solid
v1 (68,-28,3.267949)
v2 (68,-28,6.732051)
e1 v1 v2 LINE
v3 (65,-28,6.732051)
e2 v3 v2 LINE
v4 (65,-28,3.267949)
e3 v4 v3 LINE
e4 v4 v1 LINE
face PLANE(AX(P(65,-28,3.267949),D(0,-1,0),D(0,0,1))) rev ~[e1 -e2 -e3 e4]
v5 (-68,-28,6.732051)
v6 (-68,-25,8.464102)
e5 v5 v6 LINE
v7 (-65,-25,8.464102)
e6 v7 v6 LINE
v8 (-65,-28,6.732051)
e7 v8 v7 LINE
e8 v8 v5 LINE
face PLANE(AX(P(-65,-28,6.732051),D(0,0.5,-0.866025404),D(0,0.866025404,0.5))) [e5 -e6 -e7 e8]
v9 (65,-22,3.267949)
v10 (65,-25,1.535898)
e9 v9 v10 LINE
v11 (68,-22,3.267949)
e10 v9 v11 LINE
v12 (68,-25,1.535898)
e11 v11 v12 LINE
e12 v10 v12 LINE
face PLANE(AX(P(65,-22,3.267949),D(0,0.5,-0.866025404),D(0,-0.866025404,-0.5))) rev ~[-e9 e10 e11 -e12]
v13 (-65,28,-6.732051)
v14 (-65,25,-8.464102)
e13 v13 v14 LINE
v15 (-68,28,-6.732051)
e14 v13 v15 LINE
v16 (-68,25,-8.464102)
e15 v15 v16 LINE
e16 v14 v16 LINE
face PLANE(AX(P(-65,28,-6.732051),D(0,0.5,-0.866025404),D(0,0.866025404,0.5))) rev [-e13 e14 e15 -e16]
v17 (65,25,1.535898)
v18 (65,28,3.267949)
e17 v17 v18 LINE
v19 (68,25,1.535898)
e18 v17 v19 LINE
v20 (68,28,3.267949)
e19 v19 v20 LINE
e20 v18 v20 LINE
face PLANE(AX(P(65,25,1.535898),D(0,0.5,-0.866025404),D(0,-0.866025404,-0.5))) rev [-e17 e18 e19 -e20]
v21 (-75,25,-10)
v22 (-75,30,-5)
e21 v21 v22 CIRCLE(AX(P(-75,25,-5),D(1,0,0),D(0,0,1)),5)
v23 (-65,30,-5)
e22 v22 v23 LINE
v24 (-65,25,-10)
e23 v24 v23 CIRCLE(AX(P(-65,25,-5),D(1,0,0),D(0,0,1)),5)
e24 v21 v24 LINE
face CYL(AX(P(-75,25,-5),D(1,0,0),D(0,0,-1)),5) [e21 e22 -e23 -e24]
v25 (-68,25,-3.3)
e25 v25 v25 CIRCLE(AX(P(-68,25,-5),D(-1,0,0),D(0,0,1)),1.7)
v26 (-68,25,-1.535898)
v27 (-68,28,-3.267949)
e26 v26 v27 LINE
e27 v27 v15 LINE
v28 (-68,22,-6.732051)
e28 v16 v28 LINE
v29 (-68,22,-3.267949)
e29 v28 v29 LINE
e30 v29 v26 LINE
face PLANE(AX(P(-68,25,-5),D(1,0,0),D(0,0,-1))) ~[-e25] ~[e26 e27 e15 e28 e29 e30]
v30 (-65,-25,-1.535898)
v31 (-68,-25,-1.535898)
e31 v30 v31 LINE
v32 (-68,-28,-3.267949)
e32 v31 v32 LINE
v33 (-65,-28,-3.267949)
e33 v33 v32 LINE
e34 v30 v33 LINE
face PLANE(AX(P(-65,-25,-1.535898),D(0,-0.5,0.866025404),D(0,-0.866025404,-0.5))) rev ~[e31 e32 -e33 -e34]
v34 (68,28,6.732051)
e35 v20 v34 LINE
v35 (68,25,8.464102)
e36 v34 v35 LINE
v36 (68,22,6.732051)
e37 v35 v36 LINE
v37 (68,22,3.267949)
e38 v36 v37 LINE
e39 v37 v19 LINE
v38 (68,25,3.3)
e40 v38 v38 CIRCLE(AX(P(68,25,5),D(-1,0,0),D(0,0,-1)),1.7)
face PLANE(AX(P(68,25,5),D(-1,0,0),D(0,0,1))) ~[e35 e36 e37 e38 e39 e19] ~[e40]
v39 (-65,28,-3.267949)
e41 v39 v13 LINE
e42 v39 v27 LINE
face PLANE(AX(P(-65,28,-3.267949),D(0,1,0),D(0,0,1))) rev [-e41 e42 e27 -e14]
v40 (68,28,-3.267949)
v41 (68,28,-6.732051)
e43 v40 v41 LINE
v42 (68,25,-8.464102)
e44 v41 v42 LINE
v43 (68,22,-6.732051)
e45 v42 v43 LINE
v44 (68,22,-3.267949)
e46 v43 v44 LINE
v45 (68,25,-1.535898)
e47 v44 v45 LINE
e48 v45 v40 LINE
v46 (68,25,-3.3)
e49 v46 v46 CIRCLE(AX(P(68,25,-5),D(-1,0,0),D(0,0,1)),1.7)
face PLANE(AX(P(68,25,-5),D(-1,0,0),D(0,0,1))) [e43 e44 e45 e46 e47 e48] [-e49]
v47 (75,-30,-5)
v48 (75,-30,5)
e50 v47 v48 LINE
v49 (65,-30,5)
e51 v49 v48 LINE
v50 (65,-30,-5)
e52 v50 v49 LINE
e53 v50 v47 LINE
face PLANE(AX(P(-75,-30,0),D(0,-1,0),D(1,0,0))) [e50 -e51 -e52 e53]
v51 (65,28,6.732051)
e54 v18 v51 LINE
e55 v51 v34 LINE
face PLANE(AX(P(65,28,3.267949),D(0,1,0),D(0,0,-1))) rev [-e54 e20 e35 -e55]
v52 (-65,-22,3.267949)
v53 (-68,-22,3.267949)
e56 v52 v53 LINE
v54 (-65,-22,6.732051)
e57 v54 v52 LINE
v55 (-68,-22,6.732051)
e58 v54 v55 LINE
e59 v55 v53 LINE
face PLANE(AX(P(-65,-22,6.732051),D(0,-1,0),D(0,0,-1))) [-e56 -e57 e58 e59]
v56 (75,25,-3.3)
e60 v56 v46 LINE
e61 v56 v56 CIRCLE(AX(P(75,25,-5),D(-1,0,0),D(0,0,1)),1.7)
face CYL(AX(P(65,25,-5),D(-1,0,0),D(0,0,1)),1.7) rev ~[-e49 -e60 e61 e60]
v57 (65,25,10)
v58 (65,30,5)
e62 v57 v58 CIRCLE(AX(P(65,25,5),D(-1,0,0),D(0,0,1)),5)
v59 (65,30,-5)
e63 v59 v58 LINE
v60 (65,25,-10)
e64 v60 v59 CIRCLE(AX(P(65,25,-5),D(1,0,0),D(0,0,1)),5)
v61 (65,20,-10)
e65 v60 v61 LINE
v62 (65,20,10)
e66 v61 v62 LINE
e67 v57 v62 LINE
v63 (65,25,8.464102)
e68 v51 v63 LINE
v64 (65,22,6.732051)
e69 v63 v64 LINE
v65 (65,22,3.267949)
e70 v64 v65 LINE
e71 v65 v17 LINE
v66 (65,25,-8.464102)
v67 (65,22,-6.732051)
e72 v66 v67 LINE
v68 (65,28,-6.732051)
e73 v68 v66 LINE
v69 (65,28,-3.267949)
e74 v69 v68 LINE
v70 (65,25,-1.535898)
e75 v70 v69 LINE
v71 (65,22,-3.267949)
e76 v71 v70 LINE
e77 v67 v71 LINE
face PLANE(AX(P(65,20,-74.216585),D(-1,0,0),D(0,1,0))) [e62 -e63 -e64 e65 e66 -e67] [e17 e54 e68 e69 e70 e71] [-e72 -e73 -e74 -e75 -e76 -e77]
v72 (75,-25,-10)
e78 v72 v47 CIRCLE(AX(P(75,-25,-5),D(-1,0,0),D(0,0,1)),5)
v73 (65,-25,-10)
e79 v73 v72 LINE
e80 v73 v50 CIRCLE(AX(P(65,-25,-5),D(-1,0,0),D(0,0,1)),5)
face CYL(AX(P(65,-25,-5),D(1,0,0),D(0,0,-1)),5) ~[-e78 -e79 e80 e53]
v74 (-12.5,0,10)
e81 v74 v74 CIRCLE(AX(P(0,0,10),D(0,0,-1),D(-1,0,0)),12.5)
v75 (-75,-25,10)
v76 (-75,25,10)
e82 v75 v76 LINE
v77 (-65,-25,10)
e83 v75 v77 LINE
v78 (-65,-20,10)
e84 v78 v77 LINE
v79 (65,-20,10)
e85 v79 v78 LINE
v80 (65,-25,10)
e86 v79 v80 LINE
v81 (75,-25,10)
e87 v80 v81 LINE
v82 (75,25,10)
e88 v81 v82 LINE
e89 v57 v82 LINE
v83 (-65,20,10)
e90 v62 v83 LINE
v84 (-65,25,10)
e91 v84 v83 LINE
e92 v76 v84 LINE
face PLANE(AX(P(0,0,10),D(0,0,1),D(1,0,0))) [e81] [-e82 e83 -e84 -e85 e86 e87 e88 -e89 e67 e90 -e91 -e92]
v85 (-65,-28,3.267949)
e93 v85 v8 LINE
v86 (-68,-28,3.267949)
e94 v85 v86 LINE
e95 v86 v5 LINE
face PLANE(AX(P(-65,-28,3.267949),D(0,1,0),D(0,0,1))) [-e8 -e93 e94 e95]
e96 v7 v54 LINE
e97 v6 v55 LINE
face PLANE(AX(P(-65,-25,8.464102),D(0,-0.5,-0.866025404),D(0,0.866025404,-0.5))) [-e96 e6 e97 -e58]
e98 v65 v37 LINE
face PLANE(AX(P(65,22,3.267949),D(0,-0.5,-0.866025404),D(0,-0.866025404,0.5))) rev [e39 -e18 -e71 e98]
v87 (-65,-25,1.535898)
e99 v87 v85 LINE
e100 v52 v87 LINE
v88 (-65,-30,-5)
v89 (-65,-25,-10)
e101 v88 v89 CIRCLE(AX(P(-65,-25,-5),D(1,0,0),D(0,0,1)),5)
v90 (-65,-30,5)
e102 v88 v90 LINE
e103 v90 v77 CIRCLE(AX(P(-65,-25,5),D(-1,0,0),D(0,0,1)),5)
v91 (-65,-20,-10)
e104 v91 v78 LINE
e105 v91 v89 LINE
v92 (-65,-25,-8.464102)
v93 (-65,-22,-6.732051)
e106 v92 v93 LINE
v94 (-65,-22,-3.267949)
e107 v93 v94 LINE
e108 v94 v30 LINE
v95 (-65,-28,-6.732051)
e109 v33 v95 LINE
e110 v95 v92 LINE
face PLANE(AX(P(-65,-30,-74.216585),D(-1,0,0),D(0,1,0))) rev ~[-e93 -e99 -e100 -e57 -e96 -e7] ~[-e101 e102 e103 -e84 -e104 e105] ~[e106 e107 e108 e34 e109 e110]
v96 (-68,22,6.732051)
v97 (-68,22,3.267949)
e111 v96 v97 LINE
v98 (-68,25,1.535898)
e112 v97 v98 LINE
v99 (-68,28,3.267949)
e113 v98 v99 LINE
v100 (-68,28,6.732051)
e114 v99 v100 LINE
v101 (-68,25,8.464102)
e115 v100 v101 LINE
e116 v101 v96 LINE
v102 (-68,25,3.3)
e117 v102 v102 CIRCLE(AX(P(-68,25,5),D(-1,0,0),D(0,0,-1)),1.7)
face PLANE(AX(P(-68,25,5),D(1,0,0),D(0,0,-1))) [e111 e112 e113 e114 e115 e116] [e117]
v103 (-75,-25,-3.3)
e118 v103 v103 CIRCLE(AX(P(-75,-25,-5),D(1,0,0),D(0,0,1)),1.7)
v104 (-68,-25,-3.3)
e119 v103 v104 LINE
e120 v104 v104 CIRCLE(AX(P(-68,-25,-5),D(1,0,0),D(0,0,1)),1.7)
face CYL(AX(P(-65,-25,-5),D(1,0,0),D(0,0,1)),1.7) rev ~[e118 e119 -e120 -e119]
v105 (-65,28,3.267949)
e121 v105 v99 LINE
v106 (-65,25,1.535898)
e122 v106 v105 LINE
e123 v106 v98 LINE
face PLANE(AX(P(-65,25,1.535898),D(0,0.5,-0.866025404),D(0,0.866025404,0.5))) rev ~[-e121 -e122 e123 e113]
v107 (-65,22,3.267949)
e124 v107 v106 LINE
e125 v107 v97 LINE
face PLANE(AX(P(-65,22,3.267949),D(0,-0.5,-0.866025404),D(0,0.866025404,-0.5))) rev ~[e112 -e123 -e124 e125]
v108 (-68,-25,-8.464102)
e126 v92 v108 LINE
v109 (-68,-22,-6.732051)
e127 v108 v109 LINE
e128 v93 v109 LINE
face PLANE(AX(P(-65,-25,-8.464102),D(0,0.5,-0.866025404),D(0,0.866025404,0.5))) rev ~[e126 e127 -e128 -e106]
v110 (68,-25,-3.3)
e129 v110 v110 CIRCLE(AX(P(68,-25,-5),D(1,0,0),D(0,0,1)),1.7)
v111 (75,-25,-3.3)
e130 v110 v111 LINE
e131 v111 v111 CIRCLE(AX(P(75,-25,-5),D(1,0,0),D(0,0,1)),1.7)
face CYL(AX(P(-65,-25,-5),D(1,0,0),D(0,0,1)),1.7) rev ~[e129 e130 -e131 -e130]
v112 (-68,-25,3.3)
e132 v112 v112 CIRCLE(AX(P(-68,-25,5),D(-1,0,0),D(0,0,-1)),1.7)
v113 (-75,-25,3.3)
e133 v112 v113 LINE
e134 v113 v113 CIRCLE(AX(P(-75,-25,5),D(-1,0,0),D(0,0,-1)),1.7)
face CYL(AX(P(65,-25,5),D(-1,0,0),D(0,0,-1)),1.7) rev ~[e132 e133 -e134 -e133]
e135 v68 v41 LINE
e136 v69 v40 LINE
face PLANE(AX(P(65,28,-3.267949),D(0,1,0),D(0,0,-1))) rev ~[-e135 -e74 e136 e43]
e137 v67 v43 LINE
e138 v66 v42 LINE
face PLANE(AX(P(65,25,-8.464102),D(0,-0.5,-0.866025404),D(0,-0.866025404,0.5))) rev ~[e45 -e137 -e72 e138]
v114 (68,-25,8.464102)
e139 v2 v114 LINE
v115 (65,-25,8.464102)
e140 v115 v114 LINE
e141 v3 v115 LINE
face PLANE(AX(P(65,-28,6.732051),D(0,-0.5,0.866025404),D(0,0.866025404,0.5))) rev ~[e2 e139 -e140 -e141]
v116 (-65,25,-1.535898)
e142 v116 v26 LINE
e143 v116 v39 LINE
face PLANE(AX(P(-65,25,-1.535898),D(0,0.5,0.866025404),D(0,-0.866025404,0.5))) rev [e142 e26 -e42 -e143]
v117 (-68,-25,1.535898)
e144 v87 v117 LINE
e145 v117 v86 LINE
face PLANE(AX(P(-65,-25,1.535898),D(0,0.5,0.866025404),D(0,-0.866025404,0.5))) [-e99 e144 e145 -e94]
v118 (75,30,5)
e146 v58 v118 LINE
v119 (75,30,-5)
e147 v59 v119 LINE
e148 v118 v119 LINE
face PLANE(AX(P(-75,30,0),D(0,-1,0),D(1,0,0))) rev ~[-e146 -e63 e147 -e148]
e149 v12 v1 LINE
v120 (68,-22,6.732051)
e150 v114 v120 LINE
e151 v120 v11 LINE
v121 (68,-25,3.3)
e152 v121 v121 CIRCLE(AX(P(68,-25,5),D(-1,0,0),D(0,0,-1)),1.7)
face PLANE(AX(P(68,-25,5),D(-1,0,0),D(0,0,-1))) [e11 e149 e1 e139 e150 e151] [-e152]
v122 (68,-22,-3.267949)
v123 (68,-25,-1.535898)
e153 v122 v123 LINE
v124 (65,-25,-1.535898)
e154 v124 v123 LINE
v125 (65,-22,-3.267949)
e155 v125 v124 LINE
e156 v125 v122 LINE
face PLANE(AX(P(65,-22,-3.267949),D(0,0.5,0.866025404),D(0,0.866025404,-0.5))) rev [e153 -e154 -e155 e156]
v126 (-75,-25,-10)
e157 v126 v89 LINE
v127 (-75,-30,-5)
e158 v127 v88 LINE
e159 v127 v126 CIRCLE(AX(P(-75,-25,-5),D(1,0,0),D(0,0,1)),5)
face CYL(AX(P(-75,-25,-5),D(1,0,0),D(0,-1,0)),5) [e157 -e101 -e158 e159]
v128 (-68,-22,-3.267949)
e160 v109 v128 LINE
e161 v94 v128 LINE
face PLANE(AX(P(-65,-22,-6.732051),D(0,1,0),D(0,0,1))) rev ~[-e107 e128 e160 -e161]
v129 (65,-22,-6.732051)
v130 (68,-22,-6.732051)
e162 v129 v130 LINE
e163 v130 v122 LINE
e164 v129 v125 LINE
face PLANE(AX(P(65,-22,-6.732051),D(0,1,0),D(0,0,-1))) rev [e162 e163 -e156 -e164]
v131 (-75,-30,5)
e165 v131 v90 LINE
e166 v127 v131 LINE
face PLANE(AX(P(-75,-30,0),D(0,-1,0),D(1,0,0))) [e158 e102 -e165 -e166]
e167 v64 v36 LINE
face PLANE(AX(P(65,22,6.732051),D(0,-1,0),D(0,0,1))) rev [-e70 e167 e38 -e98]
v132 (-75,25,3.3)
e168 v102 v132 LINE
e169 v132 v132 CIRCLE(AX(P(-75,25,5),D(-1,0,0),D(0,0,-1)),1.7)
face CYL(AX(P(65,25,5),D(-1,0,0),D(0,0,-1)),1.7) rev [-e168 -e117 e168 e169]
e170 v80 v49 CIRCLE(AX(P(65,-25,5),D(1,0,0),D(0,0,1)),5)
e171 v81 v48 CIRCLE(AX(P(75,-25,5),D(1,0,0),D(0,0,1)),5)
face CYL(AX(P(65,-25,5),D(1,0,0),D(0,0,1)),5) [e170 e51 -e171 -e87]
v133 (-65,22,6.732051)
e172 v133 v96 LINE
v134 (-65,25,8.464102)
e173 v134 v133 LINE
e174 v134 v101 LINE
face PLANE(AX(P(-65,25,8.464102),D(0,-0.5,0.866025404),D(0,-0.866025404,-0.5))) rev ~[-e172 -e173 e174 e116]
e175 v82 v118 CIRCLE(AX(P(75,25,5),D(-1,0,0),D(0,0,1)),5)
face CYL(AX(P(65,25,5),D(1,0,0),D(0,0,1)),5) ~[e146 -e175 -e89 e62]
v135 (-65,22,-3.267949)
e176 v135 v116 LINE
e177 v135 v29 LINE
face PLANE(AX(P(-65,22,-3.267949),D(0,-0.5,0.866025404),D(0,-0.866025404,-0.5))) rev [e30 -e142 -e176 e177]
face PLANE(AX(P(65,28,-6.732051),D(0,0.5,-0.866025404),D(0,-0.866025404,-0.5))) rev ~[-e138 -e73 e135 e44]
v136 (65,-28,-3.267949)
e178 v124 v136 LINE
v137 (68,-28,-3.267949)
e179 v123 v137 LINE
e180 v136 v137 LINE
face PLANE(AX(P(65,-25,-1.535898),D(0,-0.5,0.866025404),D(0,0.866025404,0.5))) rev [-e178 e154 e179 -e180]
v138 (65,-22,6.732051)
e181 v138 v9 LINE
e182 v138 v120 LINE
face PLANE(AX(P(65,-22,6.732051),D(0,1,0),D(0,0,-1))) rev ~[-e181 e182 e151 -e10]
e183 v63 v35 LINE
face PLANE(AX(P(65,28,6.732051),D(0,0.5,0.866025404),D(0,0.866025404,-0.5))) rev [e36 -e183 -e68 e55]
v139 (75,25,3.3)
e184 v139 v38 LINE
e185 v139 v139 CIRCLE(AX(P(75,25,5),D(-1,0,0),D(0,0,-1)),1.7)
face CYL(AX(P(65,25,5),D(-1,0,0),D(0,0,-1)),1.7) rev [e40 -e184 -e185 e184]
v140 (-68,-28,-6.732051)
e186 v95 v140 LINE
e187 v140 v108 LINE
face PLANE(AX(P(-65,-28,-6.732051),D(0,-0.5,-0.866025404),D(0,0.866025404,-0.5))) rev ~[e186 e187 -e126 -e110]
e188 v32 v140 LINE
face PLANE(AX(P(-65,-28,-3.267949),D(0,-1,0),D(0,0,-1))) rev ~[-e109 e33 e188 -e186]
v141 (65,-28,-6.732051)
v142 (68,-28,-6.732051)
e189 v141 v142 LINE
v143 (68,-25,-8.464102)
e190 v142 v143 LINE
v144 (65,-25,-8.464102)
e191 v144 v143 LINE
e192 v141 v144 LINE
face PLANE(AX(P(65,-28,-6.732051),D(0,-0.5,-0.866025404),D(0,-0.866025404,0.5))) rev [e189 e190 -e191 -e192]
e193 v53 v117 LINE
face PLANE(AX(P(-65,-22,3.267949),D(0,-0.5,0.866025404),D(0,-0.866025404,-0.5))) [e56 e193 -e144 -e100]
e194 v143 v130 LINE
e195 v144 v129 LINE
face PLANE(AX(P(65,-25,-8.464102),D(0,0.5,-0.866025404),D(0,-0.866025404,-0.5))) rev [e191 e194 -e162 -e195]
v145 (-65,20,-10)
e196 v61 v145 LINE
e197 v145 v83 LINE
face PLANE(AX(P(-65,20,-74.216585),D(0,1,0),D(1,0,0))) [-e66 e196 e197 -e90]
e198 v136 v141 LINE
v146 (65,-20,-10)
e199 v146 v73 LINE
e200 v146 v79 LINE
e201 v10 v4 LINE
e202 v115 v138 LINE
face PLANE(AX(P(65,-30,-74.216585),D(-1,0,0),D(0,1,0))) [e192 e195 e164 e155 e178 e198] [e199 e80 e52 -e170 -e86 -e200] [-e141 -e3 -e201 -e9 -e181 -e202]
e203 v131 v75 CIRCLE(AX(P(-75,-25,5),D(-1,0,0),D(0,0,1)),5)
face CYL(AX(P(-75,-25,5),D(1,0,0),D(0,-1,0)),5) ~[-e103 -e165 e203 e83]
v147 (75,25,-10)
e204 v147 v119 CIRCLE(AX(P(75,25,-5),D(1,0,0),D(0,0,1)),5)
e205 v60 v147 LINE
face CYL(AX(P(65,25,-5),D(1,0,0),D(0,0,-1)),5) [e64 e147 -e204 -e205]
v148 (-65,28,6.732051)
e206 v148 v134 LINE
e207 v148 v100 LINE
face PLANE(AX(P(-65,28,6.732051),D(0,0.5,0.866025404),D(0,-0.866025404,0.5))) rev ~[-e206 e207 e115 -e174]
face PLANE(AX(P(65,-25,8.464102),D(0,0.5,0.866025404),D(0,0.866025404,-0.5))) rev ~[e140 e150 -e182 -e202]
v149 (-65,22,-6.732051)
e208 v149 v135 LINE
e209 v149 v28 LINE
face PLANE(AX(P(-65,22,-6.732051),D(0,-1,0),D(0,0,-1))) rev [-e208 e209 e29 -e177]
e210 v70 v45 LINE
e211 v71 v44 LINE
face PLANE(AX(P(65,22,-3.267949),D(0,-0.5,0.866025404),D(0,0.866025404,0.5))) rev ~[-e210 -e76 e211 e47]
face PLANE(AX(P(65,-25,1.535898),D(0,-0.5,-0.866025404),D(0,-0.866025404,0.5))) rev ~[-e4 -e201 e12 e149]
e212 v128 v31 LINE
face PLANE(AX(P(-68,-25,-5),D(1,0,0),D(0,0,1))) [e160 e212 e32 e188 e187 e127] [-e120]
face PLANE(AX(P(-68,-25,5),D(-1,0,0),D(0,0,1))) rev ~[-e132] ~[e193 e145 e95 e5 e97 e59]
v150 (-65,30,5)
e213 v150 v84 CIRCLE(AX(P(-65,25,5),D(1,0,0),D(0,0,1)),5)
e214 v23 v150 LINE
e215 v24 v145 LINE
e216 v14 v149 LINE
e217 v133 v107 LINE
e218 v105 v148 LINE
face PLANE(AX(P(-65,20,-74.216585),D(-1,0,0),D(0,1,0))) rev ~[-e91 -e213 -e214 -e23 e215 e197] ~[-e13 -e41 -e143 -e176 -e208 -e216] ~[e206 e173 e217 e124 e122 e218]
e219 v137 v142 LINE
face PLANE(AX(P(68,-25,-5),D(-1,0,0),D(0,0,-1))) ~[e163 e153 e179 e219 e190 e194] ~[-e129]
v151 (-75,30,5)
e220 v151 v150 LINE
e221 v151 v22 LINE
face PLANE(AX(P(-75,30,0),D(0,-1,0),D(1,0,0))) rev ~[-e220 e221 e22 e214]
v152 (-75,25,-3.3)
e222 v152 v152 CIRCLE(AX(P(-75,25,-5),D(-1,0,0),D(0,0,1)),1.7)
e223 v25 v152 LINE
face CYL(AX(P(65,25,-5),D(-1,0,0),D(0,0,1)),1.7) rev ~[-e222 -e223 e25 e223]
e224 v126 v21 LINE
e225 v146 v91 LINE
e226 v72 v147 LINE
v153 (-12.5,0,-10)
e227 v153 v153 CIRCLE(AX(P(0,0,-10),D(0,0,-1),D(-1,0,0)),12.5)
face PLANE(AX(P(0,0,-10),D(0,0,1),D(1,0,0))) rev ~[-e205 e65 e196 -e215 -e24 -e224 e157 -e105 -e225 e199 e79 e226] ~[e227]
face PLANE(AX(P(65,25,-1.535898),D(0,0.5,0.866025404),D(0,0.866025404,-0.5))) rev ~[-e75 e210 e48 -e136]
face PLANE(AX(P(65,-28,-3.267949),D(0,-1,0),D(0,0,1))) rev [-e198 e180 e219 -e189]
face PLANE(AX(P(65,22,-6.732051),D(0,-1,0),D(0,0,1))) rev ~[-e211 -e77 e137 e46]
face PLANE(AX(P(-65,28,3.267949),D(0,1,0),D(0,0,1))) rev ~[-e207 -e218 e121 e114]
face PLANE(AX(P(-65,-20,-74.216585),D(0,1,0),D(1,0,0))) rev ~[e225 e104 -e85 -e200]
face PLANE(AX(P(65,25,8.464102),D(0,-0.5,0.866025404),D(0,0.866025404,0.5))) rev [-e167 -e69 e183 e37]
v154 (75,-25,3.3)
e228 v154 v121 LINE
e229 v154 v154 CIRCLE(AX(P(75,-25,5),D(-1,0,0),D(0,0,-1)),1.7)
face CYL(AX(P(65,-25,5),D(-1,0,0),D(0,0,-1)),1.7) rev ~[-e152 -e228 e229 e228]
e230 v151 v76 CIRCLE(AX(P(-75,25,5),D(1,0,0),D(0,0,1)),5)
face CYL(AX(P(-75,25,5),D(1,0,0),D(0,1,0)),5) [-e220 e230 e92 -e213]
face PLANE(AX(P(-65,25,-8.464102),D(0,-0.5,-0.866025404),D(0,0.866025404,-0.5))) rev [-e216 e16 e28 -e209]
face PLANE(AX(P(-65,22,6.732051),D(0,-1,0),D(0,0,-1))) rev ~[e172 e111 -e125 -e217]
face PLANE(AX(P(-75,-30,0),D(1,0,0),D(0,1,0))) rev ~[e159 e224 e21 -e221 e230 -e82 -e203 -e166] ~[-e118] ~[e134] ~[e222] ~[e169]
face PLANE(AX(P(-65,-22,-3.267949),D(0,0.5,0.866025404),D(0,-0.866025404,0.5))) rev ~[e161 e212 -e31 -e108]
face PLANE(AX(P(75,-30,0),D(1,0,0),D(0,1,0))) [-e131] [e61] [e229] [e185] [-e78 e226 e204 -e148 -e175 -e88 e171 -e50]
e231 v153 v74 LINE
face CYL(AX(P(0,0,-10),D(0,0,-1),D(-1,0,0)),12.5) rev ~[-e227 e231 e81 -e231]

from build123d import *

# Parameters (mm, degrees)
SKETCH1_W                                  = 150
SKETCH1_H                                  = 60
BOSS_EXTRUDE1_DEPTH                        = 10
CUT_EXTRUDE1_DEPTH                         = 84.216584885
CUT_EXTRUDE1_DEPTH_BACK                    = 84.216584885
SKETCH2_W                                  = 130
SKETCH2_H                                  = 10
FILLET1_R                                  = 5
SKETCH4_R                                  = 1.7
CUT_EXTRUDE3_DEPTH                         = 144.527000944
CUT_EXTRUDE4_DEPTH                         = 3
MIRROR1_AT_THE_SECOND_PLANE_COPY_1_SKETC_R = 1.7
MIRROR1_AT_THE_SECOND_PLANE_COPY_1_DEPTH   = 144.527000944
MIRROR1_AT_THE_SECOND_PLANE_COPY_2_DEPTH   = 3
MIRROR2_COPY_1_SKETCH_R                    = 1.7
MIRROR2_COPY_1_DEPTH                       = 144.527000944
MIRROR2_COPY_2_DEPTH                       = 3
MIRROR2_COPY_3_SKETCH_R                    = 1.7
MIRROR2_COPY_3_DEPTH                       = 144.527000944
MIRROR2_COPY_4_DEPTH                       = 3
MIRROR2_COPY_5_SKETCH_R                    = 1.7
MIRROR2_COPY_5_DEPTH                       = 144.527000944
MIRROR2_COPY_6_DEPTH                       = 3
MIRROR2_COPY_7_SKETCH_R                    = 1.7
MIRROR2_COPY_7_DEPTH                       = 144.527000944
SKETCH6_R                                  = 12.5
CUT_EXTRUDE5_DEPTH                         = 84.216584885


with BuildPart() as part:
    # Sketch1 → Boss-Extrude1 (new, symmetric)
    with BuildSketch(Plane.XY):
        Rectangle(SKETCH1_W, SKETCH1_H)
    extrude(amount=BOSS_EXTRUDE1_DEPTH, both=True)

    # Sketch2 → Cut-Extrude1 (cut, two sides: drawn at the far end of the back side and taken through both)
    with BuildSketch(Plane.XY.offset(10).offset(-CUT_EXTRUDE1_DEPTH_BACK)):
        with Locations((0, -25)):
            Rectangle(SKETCH2_W, SKETCH2_H)
        with Locations((0, 25)):
            Rectangle(SKETCH2_W, SKETCH2_H)
    extrude(amount=CUT_EXTRUDE1_DEPTH + CUT_EXTRUDE1_DEPTH_BACK, mode=Mode.SUBTRACT)

    # Fillet1
    fillet1_edges = [part.edges().sort_by_distance(p)[0] for p in [
        (70, -30, -10),
        (-70, 30, -10),
        (-70, -30, 10),
        (-70, 30, 10),
        (70, -30, 10),
        (-70, -30, -10),
        (70, 30, -10),
        (70, 30, 10),
    ]]
    fillet(fillet1_edges, radius=FILLET1_R)

    # Sketch4 → Cut-Extrude3 (cut, symmetric)
    with BuildSketch(Plane.ZY.offset(-65)):
        with Locations((-5, 25)):
            Circle(SKETCH4_R)
    cut_extrude3 = extrude(amount=CUT_EXTRUDE3_DEPTH, both=True, mode=Mode.SUBTRACT)

    # Sketch5 → Cut-Extrude4 (cut)
    with BuildSketch(Plane.ZY.offset(-65)):
        Polygon((-8.464101615, 25), (-6.732050808, 22), (-3.267949192, 22), (-1.535898385, 25), (-3.267949192, 28), (-6.732050808, 28), align=None)
    cut_extrude4 = extrude(amount=-CUT_EXTRUDE4_DEPTH, mode=Mode.SUBTRACT)

    # Mirror1: Cut-Extrude3, Cut-Extrude4 across plane
    add(cut_extrude3.mirror(Plane(origin=(0, 0, 0), x_dir=(0, 0, 1), z_dir=(1, 0, 0))), mode=Mode.SUBTRACT)
    add(cut_extrude4.mirror(Plane(origin=(0, 0, 0), x_dir=(0, 0, 1), z_dir=(1, 0, 0))), mode=Mode.SUBTRACT)

    # Mirror1 at the second plane: Cut-Extrude3, Cut-Extrude4 across plane
    add(cut_extrude3.mirror(Plane.XY), mode=Mode.SUBTRACT)
    add(cut_extrude4.mirror(Plane.XY), mode=Mode.SUBTRACT)

    # Mirror1 at the second plane copy 1 sketc → Mirror1 at the second plane copy 1 (cut, symmetric)
    with BuildSketch(Plane(origin=(-65, 0, 0), x_dir=(0, 0, -1), z_dir=(1, 0, 0))):
        with Locations((-5, 25)):
            Circle(MIRROR1_AT_THE_SECOND_PLANE_COPY_1_SKETC_R)
    extrude(amount=MIRROR1_AT_THE_SECOND_PLANE_COPY_1_DEPTH, both=True, mode=Mode.SUBTRACT)

    # Mirror1 at the second plane copy 2 sketc → Mirror1 at the second plane copy 2 (cut)
    with BuildSketch(Plane(origin=(-65, 0, 0), x_dir=(0, 0, -1), z_dir=(1, 0, 0))):
        Polygon((-8.464101615, 25), (-6.732050808, 22), (-3.267949192, 22), (-1.535898385, 25), (-3.267949192, 28), (-6.732050808, 28), align=None)
    extrude(amount=-MIRROR1_AT_THE_SECOND_PLANE_COPY_2_DEPTH, mode=Mode.SUBTRACT)

    # Mirror2: Cut-Extrude4 across plane
    add(cut_extrude4.mirror(Plane.ZX), mode=Mode.SUBTRACT)

    # Mirror2 copy 1 sketch → Mirror2 copy 1 (cut, symmetric)
    with BuildSketch(Plane(origin=(-65, 0, 0), x_dir=(0, 0, 1), z_dir=(1, 0, 0))):
        with Locations((-5, 25)):
            Circle(MIRROR2_COPY_1_SKETCH_R)
    extrude(amount=MIRROR2_COPY_1_DEPTH, both=True, mode=Mode.SUBTRACT)

    # Mirror2 copy 2 sketch → Mirror2 copy 2 (cut)
    with BuildSketch(Plane(origin=(-65, 0, 0), x_dir=(0, 0, 1), z_dir=(1, 0, 0))):
        Polygon((-8.464101615, 25), (-6.732050808, 22), (-3.267949192, 22), (-1.535898385, 25), (-3.267949192, 28), (-6.732050808, 28), align=None)
    extrude(amount=-MIRROR2_COPY_2_DEPTH, mode=Mode.SUBTRACT)

    # Mirror2 copy 3 sketch → Mirror2 copy 3 (cut, symmetric)
    with BuildSketch(Plane(origin=(65, 0, 0), x_dir=(0, 0, -1), z_dir=(-1, 0, 0))):
        with Locations((-5, 25)):
            Circle(MIRROR2_COPY_3_SKETCH_R)
    extrude(amount=MIRROR2_COPY_3_DEPTH, both=True, mode=Mode.SUBTRACT)

    # Mirror2 copy 4 sketch → Mirror2 copy 4 (cut)
    with BuildSketch(Plane(origin=(65, 0, 0), x_dir=(0, 0, -1), z_dir=(-1, 0, 0))):
        Polygon((-8.464101615, 25), (-6.732050808, 22), (-3.267949192, 22), (-1.535898385, 25), (-3.267949192, 28), (-6.732050808, 28), align=None)
    extrude(amount=-MIRROR2_COPY_4_DEPTH, mode=Mode.SUBTRACT)

    # Mirror2 copy 5 sketch → Mirror2 copy 5 (cut, symmetric)
    with BuildSketch(Plane(origin=(-65, 0, 0), x_dir=(0, 0, -1), z_dir=(1, 0, 0))):
        with Locations((-5, -25)):
            Circle(MIRROR2_COPY_5_SKETCH_R)
    extrude(amount=MIRROR2_COPY_5_DEPTH, both=True, mode=Mode.SUBTRACT)

    # Mirror2 copy 6 sketch → Mirror2 copy 6 (cut)
    with BuildSketch(Plane(origin=(-65, 0, 0), x_dir=(0, 0, -1), z_dir=(1, 0, 0))):
        Polygon((-8.464101615, -25), (-6.732050808, -22), (-3.267949192, -22), (-1.535898385, -25), (-3.267949192, -28), (-6.732050808, -28), align=None)
    extrude(amount=-MIRROR2_COPY_6_DEPTH, mode=Mode.SUBTRACT)

    # Mirror2 copy 7 sketch → Mirror2 copy 7 (cut, symmetric)
    with BuildSketch(Plane.ZY.offset(-65)):
        with Locations((-5, -25)):
            Circle(MIRROR2_COPY_7_SKETCH_R)
    extrude(amount=MIRROR2_COPY_7_DEPTH, both=True, mode=Mode.SUBTRACT)

    # Sketch6 → Cut-Extrude5 (cut, through all)
    with BuildSketch(Plane(origin=(0, 0, -10), x_dir=(-1, 0, 0), z_dir=(0, 0, -1))):
        Circle(SKETCH6_R)
    extrude(amount=-CUT_EXTRUDE5_DEPTH, mode=Mode.SUBTRACT)


solid = part.part
